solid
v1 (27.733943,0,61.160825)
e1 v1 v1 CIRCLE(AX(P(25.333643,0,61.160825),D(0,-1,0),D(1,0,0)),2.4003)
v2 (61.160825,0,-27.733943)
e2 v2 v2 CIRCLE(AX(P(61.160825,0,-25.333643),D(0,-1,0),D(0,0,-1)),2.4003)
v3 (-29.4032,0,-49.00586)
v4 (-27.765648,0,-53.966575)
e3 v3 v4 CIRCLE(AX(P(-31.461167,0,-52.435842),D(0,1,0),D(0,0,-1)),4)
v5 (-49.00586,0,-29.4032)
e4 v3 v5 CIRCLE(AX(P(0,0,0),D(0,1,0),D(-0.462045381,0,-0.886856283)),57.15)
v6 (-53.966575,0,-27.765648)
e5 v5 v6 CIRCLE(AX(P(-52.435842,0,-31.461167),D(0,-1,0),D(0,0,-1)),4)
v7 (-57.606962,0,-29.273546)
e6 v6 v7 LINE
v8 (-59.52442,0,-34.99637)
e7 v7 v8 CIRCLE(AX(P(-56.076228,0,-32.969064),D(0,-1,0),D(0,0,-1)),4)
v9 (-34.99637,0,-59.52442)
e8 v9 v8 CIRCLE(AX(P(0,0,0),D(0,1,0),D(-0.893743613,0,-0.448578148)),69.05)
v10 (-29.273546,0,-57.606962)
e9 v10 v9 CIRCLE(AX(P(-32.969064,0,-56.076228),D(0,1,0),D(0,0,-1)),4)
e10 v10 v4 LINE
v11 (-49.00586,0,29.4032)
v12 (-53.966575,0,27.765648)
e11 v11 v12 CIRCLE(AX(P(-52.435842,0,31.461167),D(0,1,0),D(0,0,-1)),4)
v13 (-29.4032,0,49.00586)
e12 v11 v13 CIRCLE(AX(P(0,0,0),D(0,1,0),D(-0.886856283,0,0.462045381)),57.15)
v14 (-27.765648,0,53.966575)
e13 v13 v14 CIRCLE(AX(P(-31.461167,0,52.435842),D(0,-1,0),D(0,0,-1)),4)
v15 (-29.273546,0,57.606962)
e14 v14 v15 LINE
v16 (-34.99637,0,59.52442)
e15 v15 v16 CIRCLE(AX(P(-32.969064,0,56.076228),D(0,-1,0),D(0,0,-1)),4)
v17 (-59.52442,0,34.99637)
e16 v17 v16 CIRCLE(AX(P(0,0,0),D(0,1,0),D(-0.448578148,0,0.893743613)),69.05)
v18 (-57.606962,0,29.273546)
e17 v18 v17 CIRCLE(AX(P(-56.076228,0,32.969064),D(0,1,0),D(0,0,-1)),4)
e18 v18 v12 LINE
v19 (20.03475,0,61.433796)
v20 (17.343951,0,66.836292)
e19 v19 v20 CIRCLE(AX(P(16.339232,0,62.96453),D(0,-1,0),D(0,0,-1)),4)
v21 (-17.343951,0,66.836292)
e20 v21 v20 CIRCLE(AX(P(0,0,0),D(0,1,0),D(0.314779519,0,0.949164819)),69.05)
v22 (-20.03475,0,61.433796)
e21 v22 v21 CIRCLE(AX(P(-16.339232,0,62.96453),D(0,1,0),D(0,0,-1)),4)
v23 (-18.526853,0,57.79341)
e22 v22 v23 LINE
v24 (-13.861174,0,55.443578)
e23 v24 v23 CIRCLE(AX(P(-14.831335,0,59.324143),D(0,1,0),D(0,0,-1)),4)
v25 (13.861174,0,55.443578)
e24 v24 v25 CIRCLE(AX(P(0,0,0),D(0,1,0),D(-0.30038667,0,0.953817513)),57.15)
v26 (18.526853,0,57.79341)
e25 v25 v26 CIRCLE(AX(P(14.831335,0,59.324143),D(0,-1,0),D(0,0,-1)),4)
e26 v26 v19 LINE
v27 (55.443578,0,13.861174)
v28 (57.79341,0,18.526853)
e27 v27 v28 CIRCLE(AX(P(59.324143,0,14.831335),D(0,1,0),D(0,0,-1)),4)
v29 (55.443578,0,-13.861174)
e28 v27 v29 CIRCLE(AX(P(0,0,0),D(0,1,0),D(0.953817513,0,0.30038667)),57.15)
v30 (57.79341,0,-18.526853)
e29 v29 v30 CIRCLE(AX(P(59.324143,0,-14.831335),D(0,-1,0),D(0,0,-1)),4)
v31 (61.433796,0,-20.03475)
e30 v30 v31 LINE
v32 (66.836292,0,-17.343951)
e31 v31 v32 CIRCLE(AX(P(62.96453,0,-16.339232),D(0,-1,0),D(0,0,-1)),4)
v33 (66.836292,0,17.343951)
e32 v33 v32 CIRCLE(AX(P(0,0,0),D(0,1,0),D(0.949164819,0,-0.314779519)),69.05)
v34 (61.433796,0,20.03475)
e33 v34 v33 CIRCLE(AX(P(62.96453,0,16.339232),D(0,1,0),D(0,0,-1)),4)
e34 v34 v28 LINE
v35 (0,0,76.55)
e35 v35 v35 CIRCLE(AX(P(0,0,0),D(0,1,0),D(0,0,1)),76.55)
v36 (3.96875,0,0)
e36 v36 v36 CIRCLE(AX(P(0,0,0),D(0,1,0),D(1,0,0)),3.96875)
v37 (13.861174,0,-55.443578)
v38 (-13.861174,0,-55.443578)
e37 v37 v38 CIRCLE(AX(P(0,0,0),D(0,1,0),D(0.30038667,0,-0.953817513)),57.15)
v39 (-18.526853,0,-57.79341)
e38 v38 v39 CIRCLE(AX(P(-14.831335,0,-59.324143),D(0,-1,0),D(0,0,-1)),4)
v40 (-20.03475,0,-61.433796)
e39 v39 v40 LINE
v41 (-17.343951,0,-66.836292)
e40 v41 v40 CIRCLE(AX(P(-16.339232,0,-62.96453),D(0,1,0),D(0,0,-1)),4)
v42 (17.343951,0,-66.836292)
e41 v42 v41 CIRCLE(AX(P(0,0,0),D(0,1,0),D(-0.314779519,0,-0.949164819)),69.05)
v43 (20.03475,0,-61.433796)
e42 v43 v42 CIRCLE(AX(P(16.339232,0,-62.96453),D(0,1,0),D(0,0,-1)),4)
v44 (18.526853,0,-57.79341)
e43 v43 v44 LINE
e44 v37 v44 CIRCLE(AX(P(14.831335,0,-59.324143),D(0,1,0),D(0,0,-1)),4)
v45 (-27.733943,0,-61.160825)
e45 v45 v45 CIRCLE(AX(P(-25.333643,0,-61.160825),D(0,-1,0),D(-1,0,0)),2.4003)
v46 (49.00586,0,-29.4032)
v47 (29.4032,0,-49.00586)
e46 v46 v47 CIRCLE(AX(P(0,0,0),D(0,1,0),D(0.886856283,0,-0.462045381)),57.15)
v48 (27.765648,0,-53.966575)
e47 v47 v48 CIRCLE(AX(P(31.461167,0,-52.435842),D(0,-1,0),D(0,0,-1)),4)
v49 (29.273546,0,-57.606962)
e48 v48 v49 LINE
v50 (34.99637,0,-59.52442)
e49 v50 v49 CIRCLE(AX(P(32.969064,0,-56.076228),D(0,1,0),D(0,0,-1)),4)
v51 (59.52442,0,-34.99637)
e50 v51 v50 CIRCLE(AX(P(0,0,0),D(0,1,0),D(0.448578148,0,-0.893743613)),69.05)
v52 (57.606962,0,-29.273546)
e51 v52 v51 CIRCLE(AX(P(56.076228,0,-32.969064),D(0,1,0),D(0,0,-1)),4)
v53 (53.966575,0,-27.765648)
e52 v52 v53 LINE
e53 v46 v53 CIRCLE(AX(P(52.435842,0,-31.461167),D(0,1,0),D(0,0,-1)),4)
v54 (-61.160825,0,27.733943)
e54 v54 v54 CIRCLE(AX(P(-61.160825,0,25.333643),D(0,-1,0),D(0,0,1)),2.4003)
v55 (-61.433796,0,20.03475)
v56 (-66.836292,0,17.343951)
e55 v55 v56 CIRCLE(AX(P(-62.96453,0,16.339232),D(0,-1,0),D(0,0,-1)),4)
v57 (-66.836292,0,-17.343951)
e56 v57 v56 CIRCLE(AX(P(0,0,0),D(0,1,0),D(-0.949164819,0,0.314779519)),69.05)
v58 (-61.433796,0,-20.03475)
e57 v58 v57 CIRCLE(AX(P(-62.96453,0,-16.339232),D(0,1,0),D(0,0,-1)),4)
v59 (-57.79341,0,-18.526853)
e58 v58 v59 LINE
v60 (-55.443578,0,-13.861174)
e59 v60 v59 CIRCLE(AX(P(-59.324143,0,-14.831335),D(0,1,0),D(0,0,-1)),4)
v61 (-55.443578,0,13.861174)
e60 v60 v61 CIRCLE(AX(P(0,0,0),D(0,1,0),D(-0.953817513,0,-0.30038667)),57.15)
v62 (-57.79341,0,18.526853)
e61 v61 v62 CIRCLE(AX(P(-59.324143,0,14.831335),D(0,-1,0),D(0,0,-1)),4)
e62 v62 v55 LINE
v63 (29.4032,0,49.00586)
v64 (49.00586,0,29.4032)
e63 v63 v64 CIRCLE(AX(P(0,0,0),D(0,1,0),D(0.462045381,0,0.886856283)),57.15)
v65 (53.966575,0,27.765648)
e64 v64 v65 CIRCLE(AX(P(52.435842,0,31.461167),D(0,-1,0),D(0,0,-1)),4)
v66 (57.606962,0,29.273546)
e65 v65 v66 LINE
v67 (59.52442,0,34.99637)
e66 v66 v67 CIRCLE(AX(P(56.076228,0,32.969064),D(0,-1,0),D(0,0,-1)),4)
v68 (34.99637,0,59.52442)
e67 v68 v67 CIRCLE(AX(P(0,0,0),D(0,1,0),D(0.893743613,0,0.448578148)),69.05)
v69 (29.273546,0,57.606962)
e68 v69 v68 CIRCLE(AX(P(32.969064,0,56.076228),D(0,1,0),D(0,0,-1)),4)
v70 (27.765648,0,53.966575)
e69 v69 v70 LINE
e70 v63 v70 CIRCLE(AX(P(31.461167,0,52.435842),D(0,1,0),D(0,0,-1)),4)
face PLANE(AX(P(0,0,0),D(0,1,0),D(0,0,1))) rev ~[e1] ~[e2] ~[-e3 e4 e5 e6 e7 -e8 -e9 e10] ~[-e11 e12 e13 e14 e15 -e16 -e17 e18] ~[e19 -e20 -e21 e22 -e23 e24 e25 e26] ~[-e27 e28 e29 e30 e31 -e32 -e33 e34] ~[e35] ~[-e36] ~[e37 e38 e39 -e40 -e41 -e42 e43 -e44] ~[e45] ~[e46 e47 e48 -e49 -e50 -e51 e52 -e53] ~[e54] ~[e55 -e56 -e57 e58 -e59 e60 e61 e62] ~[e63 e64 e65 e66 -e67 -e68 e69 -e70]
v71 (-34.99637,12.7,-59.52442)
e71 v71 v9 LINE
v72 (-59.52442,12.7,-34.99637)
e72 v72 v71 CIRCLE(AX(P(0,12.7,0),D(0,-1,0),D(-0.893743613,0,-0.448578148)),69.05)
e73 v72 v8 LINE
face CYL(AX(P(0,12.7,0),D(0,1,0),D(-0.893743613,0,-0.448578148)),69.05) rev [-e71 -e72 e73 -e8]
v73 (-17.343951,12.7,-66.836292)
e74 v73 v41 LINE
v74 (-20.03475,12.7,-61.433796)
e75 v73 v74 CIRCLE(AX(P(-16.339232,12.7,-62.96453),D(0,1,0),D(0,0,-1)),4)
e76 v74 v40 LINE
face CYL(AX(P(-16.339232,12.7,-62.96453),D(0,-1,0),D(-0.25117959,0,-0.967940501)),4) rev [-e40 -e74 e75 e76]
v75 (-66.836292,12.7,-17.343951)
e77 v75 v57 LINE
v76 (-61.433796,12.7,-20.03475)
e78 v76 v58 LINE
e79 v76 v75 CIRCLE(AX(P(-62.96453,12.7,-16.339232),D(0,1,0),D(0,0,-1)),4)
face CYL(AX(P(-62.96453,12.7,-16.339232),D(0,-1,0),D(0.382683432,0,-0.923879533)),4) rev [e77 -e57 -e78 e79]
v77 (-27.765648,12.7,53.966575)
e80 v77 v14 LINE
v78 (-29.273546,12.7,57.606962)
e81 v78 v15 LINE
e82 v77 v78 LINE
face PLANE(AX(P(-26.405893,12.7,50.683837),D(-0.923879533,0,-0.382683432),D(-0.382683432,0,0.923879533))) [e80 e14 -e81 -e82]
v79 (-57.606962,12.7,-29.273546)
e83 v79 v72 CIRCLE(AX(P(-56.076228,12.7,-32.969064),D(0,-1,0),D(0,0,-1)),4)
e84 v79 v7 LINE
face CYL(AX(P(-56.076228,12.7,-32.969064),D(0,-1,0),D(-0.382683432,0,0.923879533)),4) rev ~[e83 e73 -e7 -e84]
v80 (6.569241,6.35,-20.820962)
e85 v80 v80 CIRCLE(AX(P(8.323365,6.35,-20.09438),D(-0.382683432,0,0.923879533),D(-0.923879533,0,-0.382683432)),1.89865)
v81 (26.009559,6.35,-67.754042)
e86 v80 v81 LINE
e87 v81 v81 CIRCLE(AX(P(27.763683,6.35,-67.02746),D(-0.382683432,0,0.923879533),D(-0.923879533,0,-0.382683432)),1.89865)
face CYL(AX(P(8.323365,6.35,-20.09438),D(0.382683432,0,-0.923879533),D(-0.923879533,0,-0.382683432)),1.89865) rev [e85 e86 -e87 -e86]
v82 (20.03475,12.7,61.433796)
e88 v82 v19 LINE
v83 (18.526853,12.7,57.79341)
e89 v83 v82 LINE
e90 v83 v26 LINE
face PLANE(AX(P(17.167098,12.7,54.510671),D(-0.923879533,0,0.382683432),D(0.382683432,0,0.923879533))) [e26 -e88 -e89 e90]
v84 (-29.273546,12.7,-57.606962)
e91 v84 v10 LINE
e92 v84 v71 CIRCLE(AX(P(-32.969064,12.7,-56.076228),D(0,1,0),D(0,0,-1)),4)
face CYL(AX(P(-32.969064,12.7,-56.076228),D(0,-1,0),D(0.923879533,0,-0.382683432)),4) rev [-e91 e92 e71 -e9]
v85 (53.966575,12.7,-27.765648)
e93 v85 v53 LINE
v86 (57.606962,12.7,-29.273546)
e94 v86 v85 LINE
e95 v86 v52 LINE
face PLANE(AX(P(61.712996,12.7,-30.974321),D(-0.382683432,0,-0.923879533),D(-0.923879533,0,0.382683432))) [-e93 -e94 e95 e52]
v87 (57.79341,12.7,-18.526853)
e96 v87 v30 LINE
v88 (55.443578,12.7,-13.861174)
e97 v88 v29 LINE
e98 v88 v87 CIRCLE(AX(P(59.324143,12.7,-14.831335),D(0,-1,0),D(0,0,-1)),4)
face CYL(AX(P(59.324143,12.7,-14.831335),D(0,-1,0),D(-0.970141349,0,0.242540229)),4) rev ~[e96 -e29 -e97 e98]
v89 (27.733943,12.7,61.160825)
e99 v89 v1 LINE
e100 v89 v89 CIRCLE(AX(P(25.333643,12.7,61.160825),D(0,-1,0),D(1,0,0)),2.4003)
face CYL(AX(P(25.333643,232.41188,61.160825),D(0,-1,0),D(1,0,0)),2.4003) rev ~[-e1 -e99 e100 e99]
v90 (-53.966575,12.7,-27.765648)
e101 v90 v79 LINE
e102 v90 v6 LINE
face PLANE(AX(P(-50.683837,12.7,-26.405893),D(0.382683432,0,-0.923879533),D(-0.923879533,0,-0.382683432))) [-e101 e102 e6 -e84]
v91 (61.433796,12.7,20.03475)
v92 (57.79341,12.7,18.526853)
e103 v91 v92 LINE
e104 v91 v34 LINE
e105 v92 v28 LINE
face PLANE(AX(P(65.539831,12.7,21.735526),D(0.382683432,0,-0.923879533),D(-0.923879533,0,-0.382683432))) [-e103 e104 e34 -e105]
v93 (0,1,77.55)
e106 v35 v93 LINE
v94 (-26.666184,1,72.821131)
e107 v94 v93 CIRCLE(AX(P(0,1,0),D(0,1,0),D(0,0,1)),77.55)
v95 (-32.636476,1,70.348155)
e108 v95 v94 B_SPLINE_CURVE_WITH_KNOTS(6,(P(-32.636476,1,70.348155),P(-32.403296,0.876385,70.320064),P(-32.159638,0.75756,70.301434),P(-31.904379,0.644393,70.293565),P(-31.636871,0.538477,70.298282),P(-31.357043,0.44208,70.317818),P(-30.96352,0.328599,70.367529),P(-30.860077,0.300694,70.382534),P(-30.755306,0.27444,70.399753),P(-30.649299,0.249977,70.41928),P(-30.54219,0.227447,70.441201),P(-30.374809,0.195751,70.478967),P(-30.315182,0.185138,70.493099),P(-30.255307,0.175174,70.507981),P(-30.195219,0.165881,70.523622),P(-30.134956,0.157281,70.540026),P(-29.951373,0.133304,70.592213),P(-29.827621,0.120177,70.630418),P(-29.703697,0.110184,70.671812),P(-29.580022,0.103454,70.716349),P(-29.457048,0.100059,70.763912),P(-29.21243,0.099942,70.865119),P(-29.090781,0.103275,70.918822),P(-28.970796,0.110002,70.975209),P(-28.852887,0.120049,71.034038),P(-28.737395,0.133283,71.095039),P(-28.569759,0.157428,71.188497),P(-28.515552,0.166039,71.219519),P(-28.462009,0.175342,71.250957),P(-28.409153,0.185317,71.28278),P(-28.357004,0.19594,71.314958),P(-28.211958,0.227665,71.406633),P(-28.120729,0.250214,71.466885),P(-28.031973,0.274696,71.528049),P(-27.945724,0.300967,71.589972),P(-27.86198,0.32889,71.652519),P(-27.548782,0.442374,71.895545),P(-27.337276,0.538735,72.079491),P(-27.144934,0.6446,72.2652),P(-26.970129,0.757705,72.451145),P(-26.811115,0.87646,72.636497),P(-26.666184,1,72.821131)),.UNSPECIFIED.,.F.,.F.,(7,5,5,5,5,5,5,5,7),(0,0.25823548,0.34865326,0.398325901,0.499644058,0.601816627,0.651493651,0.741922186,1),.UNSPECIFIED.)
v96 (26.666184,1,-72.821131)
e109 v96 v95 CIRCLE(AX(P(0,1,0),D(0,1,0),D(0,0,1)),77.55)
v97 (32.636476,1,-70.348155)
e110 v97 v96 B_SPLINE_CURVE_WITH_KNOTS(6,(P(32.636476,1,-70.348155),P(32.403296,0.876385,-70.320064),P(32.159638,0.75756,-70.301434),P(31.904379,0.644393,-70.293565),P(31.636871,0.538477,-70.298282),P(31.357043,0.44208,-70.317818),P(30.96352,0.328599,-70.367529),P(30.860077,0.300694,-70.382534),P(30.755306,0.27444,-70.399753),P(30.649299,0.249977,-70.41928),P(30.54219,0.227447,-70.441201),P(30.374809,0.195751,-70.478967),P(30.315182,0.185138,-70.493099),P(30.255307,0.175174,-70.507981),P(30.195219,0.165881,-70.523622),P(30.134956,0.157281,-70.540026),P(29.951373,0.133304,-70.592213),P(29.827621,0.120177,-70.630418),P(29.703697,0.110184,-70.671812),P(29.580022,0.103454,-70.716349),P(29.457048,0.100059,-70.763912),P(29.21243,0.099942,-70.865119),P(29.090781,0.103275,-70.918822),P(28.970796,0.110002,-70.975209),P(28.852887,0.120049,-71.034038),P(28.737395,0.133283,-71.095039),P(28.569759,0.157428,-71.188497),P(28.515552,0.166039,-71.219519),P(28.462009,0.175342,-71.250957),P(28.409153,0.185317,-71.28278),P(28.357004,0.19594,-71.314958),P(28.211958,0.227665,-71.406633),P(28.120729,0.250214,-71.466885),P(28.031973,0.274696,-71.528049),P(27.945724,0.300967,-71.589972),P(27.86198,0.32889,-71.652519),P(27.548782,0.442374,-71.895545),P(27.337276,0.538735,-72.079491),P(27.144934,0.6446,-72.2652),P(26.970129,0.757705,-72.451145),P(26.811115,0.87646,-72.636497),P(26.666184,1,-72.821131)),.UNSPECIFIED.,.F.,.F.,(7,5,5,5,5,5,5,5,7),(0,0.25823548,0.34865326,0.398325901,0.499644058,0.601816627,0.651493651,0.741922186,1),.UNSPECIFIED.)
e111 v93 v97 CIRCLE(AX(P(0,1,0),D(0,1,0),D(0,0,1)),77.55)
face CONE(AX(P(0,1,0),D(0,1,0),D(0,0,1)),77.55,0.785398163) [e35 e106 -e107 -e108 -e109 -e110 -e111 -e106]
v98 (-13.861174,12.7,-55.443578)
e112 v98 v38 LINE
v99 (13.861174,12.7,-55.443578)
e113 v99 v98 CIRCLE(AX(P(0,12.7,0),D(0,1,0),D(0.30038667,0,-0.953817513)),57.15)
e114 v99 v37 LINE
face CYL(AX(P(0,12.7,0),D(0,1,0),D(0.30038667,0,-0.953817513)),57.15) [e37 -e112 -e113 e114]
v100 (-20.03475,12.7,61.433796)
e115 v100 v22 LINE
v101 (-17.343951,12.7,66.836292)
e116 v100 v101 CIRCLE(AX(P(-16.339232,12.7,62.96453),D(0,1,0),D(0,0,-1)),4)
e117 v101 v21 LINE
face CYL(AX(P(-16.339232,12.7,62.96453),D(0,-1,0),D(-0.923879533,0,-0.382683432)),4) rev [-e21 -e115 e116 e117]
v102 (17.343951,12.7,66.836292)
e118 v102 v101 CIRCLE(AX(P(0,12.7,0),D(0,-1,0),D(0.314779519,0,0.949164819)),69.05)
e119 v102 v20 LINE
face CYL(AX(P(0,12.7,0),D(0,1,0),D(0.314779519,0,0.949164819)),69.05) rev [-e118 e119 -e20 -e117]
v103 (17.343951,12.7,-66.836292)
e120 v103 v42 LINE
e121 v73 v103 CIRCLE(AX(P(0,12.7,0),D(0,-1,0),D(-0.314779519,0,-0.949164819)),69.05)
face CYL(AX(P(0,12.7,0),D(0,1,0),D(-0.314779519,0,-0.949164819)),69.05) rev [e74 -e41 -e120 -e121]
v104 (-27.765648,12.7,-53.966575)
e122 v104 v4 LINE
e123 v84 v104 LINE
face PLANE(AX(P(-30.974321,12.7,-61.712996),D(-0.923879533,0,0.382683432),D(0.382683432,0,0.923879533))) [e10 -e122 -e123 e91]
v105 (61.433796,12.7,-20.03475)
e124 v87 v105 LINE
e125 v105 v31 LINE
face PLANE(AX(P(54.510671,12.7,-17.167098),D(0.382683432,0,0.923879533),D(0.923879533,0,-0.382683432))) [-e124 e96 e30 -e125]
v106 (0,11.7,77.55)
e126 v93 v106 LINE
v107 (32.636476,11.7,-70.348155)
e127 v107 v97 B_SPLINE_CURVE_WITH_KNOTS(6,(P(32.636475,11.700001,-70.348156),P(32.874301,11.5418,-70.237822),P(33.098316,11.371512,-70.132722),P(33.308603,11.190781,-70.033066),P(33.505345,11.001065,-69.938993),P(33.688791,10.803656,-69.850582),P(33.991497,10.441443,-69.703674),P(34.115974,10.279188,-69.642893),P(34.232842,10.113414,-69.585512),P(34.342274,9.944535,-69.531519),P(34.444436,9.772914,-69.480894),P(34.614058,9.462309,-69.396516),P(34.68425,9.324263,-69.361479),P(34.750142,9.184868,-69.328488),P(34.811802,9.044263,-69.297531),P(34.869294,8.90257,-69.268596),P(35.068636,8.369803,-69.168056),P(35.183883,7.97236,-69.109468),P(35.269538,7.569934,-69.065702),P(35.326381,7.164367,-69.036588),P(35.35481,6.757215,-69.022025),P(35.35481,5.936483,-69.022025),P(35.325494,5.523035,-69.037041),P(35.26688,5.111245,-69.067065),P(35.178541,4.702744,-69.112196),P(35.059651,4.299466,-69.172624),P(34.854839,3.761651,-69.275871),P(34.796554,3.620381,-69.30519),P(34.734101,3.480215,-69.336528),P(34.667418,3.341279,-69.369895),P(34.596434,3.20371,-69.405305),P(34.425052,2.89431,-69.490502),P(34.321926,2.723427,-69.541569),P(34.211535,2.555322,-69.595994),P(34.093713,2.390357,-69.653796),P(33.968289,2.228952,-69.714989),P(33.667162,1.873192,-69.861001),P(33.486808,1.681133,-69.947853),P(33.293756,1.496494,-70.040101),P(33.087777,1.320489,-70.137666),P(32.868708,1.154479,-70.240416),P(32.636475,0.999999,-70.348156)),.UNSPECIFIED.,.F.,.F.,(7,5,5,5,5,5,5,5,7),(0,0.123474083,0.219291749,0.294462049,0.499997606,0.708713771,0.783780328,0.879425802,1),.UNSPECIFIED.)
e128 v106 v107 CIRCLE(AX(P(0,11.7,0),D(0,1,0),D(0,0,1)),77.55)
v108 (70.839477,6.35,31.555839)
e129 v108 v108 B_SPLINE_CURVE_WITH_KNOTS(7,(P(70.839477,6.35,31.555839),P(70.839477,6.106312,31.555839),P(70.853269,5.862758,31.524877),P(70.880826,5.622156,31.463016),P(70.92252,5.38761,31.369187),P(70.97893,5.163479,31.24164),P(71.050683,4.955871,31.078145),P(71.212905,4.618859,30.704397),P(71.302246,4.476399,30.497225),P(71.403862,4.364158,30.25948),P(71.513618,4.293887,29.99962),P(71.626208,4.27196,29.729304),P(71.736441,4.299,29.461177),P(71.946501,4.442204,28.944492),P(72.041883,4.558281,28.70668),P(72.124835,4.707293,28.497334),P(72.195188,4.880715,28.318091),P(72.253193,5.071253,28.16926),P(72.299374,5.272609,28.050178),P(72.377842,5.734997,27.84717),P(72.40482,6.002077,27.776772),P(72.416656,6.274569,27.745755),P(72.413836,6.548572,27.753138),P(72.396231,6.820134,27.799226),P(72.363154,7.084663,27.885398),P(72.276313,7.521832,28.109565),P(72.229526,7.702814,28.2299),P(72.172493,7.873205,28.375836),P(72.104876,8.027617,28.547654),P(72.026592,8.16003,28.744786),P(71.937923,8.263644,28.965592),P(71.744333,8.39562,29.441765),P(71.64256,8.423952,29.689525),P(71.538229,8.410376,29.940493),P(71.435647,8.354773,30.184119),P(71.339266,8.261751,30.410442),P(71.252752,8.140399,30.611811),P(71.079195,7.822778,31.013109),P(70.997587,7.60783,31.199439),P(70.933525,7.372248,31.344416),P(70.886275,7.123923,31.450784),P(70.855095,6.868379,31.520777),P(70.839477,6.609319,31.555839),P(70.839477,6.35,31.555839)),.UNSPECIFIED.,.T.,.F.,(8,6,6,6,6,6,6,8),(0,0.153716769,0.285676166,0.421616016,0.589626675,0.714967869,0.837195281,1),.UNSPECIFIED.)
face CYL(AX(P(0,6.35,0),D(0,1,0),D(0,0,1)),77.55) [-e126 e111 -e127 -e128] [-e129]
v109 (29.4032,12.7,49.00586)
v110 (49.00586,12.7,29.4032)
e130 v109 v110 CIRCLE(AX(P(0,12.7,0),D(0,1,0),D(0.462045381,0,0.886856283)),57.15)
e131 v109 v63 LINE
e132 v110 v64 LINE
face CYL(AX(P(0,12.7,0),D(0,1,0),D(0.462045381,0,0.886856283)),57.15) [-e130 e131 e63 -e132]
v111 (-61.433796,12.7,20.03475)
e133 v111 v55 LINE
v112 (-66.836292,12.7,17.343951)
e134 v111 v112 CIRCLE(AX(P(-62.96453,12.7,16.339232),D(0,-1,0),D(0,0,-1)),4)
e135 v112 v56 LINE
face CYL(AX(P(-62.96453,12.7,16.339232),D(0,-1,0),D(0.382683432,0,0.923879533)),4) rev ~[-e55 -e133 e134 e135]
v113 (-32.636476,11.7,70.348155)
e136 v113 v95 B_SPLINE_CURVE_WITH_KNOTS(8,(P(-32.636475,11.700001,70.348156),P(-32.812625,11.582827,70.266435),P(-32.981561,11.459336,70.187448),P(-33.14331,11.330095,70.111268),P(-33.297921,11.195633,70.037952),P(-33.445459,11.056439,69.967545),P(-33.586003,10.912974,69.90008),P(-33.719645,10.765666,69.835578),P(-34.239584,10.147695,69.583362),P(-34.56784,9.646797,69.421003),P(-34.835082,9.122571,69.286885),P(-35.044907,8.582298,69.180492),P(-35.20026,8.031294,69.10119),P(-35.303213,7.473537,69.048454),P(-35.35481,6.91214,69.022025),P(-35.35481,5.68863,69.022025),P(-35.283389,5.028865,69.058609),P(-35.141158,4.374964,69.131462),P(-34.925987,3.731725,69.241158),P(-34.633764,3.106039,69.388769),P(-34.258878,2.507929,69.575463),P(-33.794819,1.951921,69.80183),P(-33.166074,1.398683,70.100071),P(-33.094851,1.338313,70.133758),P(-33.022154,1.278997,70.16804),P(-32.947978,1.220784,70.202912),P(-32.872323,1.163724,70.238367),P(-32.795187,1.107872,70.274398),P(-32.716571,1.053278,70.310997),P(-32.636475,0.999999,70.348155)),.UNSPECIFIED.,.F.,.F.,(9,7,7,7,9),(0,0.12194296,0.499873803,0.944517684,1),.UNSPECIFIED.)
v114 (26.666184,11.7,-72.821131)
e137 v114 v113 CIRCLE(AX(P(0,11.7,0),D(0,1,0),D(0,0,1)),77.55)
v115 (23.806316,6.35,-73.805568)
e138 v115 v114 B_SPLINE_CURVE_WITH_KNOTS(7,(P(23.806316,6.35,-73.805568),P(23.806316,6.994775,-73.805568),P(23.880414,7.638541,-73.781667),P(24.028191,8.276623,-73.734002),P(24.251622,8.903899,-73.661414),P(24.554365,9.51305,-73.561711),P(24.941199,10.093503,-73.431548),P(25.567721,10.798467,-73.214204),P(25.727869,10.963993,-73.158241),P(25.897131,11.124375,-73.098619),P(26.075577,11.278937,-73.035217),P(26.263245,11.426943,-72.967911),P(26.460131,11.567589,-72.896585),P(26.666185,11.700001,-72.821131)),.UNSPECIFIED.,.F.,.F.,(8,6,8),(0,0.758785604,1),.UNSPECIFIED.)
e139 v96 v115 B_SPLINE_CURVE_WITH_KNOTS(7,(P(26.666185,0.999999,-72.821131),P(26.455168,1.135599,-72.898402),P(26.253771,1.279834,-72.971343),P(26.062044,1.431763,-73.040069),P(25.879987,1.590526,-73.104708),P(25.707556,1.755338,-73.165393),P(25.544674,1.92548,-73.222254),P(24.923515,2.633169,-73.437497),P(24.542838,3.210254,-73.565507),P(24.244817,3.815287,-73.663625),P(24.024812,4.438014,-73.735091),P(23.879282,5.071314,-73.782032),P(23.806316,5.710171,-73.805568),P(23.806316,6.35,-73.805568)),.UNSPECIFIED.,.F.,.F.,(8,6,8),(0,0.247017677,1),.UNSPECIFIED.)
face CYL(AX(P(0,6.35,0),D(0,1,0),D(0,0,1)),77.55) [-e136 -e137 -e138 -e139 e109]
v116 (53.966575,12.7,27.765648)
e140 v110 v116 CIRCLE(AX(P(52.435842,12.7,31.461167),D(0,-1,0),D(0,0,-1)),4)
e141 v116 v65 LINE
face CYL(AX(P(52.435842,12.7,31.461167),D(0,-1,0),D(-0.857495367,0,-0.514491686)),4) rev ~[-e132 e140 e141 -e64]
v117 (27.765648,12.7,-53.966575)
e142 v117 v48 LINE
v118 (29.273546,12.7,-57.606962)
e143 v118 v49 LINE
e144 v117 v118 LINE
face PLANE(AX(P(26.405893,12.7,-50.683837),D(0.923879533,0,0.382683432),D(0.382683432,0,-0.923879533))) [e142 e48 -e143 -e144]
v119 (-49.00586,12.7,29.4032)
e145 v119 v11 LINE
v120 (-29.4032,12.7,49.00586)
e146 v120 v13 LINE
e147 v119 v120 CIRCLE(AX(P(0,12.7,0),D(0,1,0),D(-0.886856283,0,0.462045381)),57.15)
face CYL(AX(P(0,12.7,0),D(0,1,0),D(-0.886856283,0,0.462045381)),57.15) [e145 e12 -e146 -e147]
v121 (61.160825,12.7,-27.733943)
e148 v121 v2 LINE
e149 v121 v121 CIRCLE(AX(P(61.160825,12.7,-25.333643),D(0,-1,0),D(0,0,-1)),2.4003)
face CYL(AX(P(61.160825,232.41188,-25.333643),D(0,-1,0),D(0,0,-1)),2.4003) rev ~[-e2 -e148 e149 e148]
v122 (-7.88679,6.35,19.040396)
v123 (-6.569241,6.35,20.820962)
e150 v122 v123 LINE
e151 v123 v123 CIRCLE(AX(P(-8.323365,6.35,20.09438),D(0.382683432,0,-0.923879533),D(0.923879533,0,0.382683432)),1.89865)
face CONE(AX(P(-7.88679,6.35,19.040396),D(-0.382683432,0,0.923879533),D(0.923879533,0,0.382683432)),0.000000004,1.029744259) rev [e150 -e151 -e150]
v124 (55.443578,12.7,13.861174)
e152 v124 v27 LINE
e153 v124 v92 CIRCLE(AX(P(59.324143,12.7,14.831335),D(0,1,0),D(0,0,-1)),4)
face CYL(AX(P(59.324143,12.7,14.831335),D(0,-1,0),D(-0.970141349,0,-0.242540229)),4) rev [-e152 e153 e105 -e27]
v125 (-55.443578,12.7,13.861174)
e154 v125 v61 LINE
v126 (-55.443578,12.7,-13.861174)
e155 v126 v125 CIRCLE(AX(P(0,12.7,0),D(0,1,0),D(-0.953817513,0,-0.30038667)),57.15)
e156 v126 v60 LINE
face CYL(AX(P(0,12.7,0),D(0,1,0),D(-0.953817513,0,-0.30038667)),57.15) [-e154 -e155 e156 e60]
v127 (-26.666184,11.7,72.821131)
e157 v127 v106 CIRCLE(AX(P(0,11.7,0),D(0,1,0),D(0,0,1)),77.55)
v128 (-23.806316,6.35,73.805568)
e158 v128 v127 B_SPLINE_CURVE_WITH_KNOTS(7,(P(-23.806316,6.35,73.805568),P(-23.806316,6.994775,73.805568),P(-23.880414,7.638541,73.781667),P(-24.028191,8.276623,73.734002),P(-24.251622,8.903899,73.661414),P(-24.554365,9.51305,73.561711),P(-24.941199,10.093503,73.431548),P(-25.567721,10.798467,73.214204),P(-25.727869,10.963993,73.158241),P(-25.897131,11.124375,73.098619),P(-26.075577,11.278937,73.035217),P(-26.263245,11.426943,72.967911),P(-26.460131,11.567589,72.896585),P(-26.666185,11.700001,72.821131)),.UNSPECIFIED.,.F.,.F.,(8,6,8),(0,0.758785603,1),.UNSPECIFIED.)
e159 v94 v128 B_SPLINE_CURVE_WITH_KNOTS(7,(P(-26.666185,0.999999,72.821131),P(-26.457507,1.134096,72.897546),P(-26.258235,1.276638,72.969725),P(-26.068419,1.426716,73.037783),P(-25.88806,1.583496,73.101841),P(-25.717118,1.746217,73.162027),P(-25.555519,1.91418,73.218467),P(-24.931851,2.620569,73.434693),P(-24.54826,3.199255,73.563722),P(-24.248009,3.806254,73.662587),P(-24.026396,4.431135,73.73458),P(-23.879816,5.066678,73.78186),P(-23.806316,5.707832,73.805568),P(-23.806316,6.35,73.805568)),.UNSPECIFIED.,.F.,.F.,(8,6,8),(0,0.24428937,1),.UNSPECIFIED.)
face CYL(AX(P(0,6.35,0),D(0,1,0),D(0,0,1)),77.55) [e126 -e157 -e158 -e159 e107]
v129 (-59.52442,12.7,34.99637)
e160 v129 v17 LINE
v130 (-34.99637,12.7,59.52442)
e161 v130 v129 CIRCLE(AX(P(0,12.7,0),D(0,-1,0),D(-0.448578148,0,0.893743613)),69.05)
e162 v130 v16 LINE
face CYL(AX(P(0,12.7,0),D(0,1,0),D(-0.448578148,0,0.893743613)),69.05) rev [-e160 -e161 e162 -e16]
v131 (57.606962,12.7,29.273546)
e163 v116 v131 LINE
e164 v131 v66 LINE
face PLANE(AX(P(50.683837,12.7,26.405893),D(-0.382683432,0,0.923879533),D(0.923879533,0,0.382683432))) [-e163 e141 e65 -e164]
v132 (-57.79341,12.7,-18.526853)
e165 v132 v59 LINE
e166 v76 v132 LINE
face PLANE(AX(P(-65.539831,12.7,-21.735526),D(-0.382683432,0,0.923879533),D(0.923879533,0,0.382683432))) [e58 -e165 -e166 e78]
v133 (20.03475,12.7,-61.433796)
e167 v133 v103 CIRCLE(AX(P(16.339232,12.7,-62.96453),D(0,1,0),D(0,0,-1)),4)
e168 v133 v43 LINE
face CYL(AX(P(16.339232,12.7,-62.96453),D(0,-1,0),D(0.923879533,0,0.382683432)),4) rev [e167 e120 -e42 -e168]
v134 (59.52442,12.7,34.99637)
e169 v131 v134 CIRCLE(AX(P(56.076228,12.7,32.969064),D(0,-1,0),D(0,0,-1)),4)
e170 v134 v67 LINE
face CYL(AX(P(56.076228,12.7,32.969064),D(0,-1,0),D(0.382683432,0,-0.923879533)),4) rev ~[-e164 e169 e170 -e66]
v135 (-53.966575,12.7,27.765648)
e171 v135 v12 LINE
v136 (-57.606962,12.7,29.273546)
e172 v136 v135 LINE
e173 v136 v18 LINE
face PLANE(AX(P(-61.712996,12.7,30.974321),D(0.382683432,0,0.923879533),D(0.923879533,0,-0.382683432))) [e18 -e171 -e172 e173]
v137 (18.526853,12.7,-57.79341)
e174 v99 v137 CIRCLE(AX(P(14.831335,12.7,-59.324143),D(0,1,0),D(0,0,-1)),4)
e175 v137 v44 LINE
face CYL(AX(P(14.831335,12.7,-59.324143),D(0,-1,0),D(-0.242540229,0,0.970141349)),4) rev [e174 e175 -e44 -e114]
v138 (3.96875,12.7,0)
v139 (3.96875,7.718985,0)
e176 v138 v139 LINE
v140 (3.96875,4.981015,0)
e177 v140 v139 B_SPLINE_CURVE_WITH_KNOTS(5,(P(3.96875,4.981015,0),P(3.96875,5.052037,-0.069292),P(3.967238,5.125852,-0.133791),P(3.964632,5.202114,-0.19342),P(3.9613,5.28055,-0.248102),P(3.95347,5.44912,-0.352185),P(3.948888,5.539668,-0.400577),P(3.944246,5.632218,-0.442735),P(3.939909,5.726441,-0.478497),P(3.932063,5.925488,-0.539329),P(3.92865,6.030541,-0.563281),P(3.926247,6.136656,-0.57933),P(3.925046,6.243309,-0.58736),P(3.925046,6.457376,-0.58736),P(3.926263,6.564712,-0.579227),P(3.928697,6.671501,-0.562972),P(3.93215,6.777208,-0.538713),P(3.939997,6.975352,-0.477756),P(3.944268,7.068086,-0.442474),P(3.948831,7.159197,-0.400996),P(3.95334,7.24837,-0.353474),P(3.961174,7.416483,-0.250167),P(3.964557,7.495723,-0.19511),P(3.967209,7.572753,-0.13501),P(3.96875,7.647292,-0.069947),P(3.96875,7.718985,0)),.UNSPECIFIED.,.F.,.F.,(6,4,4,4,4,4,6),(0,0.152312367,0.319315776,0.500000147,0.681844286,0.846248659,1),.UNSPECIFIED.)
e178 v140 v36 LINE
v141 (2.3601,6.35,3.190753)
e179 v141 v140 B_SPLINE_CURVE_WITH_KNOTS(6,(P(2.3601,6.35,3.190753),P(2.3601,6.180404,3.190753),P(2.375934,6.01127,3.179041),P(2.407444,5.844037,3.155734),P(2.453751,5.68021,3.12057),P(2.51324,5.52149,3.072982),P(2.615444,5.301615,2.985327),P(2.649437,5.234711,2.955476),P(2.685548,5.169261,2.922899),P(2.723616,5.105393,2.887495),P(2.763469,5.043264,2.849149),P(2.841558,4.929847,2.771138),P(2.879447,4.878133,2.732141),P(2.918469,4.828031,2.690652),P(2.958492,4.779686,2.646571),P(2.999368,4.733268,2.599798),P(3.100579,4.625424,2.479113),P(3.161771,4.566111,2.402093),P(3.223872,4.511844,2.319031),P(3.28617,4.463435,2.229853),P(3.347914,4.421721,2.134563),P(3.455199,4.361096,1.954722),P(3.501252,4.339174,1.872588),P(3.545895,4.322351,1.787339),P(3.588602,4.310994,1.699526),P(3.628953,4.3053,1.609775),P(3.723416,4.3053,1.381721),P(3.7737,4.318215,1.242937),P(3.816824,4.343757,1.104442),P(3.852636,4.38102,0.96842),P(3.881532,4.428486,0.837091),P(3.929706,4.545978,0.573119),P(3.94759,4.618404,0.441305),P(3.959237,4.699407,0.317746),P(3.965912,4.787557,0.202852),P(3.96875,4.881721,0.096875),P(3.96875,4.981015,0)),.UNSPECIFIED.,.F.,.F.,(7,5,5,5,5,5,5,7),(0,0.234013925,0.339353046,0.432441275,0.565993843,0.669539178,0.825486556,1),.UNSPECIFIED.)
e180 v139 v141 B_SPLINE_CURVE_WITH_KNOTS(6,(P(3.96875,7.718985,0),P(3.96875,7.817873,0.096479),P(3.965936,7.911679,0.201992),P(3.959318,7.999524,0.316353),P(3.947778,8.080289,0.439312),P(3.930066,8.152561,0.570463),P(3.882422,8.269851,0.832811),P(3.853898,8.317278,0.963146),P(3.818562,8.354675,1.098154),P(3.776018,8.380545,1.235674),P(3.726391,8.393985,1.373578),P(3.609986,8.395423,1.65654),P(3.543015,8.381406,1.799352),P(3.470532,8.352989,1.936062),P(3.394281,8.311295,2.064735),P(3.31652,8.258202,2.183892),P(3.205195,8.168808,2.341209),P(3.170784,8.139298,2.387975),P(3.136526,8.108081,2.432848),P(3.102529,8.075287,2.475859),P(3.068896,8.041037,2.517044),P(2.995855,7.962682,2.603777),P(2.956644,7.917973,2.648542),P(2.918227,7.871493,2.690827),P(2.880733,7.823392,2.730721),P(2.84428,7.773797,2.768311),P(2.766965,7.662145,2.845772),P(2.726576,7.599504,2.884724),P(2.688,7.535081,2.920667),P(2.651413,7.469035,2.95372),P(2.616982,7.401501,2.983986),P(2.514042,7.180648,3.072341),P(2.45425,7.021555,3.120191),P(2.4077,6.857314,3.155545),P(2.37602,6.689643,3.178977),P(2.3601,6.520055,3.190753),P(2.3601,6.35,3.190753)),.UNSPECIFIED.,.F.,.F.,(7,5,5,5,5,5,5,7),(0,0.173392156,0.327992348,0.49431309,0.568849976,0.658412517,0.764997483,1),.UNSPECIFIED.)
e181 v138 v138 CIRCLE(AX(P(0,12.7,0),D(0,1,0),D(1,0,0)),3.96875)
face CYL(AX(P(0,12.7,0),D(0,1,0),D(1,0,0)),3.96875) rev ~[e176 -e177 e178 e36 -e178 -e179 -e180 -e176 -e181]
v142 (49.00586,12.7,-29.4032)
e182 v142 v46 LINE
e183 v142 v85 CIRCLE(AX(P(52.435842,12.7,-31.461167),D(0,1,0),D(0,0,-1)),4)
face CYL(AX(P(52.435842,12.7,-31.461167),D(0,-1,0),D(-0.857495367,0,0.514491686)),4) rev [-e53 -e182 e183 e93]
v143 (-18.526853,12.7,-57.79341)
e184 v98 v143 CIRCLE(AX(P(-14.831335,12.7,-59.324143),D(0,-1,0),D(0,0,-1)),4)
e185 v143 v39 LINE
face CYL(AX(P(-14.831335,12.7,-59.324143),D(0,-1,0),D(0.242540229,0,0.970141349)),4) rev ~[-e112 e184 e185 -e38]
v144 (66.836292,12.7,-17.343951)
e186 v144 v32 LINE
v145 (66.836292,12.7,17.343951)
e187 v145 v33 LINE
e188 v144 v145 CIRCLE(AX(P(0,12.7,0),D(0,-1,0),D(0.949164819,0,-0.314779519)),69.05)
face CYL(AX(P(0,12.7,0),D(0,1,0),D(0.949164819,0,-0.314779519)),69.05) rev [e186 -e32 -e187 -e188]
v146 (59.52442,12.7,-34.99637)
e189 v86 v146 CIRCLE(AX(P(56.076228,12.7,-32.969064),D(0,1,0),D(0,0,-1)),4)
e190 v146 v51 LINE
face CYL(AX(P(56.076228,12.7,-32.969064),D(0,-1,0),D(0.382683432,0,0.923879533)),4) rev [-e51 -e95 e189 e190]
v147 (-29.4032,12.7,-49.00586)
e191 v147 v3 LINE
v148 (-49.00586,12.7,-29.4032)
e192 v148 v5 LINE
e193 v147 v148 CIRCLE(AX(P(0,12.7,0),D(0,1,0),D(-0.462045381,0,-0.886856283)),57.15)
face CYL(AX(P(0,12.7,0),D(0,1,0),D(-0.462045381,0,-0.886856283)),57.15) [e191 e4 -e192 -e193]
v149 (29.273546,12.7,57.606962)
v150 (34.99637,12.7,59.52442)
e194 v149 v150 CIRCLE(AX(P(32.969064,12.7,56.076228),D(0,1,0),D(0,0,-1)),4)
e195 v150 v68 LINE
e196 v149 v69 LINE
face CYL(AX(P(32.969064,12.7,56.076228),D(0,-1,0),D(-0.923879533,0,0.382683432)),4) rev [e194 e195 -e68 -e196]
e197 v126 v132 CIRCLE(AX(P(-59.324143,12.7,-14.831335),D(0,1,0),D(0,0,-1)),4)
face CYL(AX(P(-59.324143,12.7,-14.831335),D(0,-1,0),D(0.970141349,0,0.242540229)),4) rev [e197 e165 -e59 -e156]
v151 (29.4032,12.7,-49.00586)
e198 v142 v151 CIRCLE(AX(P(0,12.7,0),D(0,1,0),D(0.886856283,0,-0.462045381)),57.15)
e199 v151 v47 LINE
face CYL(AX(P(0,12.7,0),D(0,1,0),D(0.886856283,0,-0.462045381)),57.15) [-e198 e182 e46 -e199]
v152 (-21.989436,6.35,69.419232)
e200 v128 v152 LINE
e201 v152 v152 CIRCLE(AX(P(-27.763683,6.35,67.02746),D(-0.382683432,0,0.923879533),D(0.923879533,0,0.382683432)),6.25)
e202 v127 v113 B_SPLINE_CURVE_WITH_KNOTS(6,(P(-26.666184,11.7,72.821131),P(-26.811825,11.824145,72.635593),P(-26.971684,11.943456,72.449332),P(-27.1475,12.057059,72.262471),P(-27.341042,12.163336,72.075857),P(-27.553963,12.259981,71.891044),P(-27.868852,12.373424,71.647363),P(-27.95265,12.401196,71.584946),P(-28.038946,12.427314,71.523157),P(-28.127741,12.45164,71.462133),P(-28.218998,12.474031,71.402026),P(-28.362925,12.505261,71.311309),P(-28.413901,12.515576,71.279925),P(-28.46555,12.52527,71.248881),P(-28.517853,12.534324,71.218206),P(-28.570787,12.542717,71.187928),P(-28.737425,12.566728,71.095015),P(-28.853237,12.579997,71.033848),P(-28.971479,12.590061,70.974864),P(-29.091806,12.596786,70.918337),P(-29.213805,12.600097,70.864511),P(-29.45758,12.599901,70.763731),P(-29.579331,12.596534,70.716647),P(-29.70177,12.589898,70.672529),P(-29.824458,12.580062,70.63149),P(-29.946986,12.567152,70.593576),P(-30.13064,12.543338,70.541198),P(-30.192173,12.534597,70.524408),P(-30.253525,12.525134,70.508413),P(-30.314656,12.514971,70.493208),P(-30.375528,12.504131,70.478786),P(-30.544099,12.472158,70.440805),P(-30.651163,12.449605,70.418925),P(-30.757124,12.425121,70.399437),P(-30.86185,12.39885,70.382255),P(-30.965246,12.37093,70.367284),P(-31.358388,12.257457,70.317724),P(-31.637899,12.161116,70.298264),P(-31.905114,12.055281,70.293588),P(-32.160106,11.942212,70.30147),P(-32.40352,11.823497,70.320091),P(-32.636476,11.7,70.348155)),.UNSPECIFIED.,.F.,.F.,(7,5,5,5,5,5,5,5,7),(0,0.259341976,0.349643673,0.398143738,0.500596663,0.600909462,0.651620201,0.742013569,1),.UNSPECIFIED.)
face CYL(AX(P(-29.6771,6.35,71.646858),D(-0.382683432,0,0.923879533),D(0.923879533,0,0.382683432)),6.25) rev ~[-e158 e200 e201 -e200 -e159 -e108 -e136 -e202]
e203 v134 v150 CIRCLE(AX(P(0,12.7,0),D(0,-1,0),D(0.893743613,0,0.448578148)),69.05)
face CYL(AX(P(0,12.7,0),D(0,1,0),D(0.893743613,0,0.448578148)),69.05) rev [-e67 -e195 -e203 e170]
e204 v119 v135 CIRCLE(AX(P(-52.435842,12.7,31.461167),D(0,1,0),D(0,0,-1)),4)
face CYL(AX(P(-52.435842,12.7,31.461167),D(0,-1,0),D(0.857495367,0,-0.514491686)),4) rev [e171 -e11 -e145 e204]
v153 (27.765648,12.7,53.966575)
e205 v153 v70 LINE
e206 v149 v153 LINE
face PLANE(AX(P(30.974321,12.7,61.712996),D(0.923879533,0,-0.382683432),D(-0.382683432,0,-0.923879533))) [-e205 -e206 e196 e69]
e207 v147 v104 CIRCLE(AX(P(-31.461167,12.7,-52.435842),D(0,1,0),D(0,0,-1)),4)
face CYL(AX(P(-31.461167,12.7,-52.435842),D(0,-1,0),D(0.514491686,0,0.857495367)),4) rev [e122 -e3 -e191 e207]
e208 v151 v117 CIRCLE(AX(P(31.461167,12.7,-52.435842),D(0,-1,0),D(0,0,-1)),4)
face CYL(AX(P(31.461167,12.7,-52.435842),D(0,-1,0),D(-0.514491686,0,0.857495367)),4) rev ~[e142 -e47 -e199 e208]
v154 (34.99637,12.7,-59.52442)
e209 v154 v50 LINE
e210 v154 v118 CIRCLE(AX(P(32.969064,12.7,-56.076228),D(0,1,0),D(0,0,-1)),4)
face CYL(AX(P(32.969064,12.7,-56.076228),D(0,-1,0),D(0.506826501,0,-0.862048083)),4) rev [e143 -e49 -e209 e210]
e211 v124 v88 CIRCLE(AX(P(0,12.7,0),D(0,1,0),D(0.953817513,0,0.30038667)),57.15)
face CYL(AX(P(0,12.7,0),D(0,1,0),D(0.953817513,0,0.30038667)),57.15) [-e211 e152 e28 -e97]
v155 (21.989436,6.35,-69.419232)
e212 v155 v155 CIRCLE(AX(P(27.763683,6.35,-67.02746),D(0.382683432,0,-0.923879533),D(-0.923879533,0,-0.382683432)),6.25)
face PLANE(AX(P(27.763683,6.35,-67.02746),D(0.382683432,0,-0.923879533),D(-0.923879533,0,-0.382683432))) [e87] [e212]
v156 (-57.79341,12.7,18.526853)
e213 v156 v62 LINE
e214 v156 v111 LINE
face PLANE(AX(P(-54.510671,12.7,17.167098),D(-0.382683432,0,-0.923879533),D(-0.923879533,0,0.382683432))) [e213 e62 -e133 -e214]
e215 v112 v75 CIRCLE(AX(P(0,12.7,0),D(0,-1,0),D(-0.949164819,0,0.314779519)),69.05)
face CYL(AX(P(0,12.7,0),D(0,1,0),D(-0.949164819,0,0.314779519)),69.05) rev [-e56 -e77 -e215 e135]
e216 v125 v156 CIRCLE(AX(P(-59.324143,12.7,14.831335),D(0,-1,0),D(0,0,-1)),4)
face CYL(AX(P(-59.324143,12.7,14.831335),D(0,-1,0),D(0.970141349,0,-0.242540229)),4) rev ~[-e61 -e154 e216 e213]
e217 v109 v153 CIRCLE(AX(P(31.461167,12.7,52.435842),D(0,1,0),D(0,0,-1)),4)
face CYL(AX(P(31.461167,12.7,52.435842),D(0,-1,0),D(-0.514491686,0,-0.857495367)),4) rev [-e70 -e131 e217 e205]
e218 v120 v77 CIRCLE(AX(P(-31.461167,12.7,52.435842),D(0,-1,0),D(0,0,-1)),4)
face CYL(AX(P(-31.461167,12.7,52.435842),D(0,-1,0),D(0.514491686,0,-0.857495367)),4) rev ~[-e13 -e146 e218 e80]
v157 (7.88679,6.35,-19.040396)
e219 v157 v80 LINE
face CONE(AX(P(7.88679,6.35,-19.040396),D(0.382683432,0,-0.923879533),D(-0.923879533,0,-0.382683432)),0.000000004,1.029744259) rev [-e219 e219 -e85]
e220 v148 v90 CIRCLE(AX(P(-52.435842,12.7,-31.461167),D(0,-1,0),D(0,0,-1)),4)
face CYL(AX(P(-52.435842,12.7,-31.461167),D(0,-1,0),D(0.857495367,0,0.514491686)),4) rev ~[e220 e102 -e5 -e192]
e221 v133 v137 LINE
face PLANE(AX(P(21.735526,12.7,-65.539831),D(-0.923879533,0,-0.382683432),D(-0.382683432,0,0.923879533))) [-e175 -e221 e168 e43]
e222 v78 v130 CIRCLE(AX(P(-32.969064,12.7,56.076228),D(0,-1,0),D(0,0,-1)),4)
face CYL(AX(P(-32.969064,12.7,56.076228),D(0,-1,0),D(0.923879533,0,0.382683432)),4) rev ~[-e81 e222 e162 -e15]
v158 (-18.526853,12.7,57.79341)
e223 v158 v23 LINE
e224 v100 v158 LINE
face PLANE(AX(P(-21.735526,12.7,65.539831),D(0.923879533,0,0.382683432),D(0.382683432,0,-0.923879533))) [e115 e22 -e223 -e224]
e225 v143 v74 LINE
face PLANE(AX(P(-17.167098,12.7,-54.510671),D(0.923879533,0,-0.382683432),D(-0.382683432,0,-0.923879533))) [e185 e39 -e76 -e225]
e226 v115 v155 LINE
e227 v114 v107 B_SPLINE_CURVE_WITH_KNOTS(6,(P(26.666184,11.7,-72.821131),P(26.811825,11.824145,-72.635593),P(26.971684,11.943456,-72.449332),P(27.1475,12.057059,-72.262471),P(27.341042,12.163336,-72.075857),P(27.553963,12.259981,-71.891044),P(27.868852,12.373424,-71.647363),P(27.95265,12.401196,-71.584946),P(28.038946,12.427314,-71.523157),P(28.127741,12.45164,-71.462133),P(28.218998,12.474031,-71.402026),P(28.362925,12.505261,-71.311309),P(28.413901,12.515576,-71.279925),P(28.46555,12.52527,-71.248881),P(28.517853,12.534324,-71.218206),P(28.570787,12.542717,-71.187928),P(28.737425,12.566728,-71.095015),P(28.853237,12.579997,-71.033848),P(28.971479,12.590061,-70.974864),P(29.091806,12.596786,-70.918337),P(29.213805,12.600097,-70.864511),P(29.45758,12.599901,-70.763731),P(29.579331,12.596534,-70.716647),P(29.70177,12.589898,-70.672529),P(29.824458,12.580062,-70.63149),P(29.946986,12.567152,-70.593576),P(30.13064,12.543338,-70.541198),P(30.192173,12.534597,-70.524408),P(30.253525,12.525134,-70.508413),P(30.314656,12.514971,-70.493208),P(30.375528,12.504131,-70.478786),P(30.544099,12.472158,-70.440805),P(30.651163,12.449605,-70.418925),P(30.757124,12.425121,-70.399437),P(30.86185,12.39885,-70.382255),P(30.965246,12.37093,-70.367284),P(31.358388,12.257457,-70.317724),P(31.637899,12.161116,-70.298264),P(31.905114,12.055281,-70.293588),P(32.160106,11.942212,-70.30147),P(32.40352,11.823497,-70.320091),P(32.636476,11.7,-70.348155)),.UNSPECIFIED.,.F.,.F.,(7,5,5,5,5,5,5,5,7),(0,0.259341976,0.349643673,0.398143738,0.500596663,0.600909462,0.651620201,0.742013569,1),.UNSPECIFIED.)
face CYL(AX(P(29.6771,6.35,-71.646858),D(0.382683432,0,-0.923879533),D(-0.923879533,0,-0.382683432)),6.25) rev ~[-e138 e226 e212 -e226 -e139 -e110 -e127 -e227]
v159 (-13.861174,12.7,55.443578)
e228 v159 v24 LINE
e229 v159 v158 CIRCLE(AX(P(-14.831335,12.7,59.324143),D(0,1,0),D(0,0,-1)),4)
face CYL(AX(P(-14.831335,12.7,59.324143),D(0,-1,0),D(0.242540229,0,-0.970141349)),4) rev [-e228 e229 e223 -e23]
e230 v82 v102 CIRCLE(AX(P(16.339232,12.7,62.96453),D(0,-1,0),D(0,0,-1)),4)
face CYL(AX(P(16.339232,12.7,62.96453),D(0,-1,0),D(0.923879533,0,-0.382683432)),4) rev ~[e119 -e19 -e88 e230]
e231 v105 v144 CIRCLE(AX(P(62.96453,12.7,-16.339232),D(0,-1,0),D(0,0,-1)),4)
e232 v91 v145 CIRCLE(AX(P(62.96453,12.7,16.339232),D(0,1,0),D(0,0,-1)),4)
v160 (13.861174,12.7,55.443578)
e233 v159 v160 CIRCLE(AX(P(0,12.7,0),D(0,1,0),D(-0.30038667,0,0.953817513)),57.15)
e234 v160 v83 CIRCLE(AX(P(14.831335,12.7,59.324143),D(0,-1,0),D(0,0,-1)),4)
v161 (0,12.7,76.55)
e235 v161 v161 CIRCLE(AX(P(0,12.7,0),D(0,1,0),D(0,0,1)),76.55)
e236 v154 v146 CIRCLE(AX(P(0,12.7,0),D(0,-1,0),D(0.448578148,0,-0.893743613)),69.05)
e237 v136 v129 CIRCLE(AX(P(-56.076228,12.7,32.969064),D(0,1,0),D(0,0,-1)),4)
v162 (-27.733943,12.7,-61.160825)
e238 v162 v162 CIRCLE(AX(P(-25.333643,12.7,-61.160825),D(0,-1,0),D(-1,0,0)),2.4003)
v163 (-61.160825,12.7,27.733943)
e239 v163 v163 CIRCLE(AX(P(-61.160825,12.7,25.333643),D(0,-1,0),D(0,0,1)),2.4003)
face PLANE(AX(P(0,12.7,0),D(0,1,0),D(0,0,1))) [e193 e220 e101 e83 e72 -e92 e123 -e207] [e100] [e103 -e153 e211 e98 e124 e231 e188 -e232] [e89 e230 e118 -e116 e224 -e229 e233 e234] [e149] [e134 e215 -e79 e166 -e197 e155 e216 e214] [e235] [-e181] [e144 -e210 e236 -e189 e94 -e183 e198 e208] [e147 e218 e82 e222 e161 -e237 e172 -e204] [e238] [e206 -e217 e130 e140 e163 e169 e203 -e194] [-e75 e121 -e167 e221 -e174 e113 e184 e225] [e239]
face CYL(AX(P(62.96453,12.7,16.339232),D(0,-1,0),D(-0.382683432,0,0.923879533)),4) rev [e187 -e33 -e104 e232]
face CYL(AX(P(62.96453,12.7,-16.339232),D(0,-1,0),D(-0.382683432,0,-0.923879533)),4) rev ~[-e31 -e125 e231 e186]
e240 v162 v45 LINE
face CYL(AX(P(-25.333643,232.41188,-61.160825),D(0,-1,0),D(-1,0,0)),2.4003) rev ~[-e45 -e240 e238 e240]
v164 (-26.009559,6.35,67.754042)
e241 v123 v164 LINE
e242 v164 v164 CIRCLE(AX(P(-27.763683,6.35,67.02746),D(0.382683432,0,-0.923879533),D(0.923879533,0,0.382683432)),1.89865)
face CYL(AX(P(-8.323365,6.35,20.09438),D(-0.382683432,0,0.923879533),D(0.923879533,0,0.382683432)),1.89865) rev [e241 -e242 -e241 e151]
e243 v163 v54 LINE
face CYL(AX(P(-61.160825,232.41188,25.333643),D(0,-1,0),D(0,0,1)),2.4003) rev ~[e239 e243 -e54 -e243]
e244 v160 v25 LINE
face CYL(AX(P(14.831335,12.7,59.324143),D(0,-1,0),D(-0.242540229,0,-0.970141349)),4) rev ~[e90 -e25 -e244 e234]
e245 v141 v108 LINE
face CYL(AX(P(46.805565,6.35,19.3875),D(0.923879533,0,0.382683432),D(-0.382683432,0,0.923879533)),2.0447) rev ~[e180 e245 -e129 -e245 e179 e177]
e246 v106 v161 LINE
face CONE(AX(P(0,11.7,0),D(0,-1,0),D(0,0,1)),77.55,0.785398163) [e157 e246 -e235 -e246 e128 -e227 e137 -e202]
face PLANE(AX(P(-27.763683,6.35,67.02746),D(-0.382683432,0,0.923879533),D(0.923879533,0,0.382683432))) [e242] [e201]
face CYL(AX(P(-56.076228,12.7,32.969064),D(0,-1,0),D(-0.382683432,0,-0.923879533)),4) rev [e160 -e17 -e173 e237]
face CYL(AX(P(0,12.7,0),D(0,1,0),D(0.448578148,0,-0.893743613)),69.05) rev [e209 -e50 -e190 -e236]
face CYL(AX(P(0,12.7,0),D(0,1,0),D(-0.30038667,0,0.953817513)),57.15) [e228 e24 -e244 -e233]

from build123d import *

# Parameters (mm, degrees)
SKETCH2_W                   = 77.55
SKETCH2_H                   = 12.7
F_12_0_189_DIAMETER_HOLE1_D = 4.8006
CIRPATTERN3_COUNT           = 4
CUT_EXTRUDE1_DEPTH          = 13.7
FILLET1_R                   = 4
CIRPATTERN4_COUNT           = 8
FILLET1_OF_CIRPATTERN4_R    = 4
CHAMFER1_SIZE               = 1
SKETCH15_W                  = 2.0447
SKETCH15_H                  = 101.323957926
SKETCH19_R                  = 6.25
CUT_EXTRUDE3_DEPTH          = 5
CIRPATTERN5_COUNT           = 2
CIRPATTERN6_COUNT           = 2
SKETCH22_R                  = 3.96875
CUT_EXTRUDE4_DEPTH          = 12.8


with BuildPart() as part:
    # Sketch2 → Revolve1 (revolve)
    with BuildSketch(Plane(origin=(0, 0, 0), x_dir=(0, 0, -1), z_dir=(1, 0, 0))):
        with Locations((-38.775, 6.35)):
            Rectangle(SKETCH2_W, SKETCH2_H)
    revolve(axis=Axis((0, -0.888756804, 0), (0, 1, 0)))

    # #12 (0.189) Diameter Hole1 (through all)
    with Locations(Plane(origin=(0, 12.7, 0), x_dir=(1, 0, 0), z_dir=(0, 1, 0))):
        with Locations((-25.333643223, 61.160825052)):
            f_12_0_189_diameter_hole1 = Hole(F_12_0_189_DIAMETER_HOLE1_D / 2)

    # CirPattern3: #12 (0.189) Diameter Hole1 ×4 about axis
    cirpattern3_axis = Axis((0, 0, 0), (0, 1, 0))
    for i in range(1, CIRPATTERN3_COUNT):
        add(f_12_0_189_diameter_hole1.rotate(cirpattern3_axis, i * 360 / CIRPATTERN3_COUNT), mode=Mode.SUBTRACT)

    # Sketch8 → Cut-Extrude1 (cut, through all)
    with BuildSketch(Plane(origin=(0, 12.7, 0), x_dir=(1, 0, 0), z_dir=(0, 1, 0))):
        with BuildLine():
            Line((-17.167098173, 54.510670885), (-21.735525784, 65.539830782))
            ThreePointArc((-21.735525784, 65.539830782), (0, 69.05), (21.735525784, 65.539830782))
            Line((21.735525784, 65.539830782), (17.167098173, 54.510670885))
            ThreePointArc((17.167098173, 54.510670885), (0, 57.15), (-17.167098173, 54.510670885))
        make_face()
    cut_extrude1 = extrude(amount=-CUT_EXTRUDE1_DEPTH, mode=Mode.SUBTRACT)

    # Fillet1
    fillet1_edges = [part.edges().sort_by_distance(p)[0] for p in [
        (17.167098173, 6.35, -54.510670885),
        (-17.167098173, 6.35, -54.510670885),
        (-21.735525784, 6.35, -65.539830782),
        (21.735525784, 6.35, -65.539830782),
    ]]
    fillet(fillet1_edges, radius=FILLET1_R)

    # CirPattern4: Cut-Extrude1 ×8 about axis
    cirpattern4_axis = Axis((0, 0, 0), (0, 1, 0))
    for i in range(1, CIRPATTERN4_COUNT):
        add(cut_extrude1.rotate(cirpattern4_axis, i * 360 / CIRPATTERN4_COUNT), mode=Mode.SUBTRACT)

    # Fillet1 of CirPattern4
    fillet1_of_cirpattern4_edges = [part.edges().sort_by_distance(p)[0] for p in [
        (-26.405893498, 6.35, -50.683836561),
        (-50.683836561, 6.35, -26.405893498),
        (-61.712996458, 6.35, -30.974321109),
        (-30.974321109, 6.35, -61.712996458),
        (-54.510670885, 6.35, -17.167098173),
        (-54.510670885, 6.35, 17.167098173),
        (-65.539830782, 6.35, 21.735525784),
        (-65.539830782, 6.35, -21.735525784),
        (-50.683836561, 6.35, 26.405893498),
        (-26.405893498, 6.35, 50.683836561),
        (-30.974321109, 6.35, 61.712996458),
        (-61.712996458, 6.35, 30.974321109),
        (-17.167098173, 6.35, 54.510670885),
        (17.167098173, 6.35, 54.510670885),
        (21.735525784, 6.35, 65.539830782),
        (-21.735525784, 6.35, 65.539830782),
        (26.405893498, 6.35, 50.683836561),
        (50.683836561, 6.35, 26.405893498),
        (61.712996458, 6.35, 30.974321109),
        (30.974321109, 6.35, 61.712996458),
        (54.510670885, 6.35, 17.167098173),
        (54.510670885, 6.35, -17.167098173),
        (65.539830782, 6.35, -21.735525784),
        (65.539830782, 6.35, 21.735525784),
        (50.683836561, 6.35, -26.405893498),
        (26.405893498, 6.35, -50.683836561),
        (30.974321109, 6.35, -61.712996458),
        (61.712996458, 6.35, -30.974321109),
    ]]
    fillet(fillet1_of_cirpattern4_edges, radius=FILLET1_OF_CIRPATTERN4_R)

    # Chamfer1
    chamfer1_edges = [part.edges().sort_by_distance(p)[0] for p in [
        (0, 12.7, -77.55),
        (0, 0, -77.55),
    ]]
    chamfer(chamfer1_edges, length=CHAMFER1_SIZE)

    # Sketch15 → #20 (0.161) Diameter Hole1 (revolve, cut)
    with BuildSketch(Plane(origin=(0, 6.35, 0), x_dir=(-0.382683432, 0, 0.923879533), z_dir=(0, 1, 0))):
        with Locations((1.02235, 50.661978963)):
            Rectangle(SKETCH15_W, SKETCH15_H)
    revolve(axis=Axis((-5.866635031, 6.35, -2.430039796), (0.923879533, 0, 0.382683432)), mode=Mode.SUBTRACT)

    # Sketch19 → Cut-Extrude3 (cut)
    with BuildSketch(Plane(origin=(29.67710018, 0, -71.646857746), x_dir=(-0.923879533, 0, -0.382683432), z_dir=(0.382683432, 0, -0.923879533))):
        with Locations((0, 6.35)):
            Circle(SKETCH19_R)
    cut_extrude3 = extrude(amount=-CUT_EXTRUDE3_DEPTH, mode=Mode.SUBTRACT)

    # CirPattern5: Cut-Extrude3 ×2 about axis
    cirpattern5_axis = Axis((0, -0.888756804, 0), (0, 1, 0))
    for i in range(1, CIRPATTERN5_COUNT):
        add(cut_extrude3.rotate(cirpattern5_axis, i * 360 / CIRPATTERN5_COUNT), mode=Mode.SUBTRACT)

    # Sketch21 → #10-24 Tapped Hole1 (revolve, cut)
    with BuildSketch(Plane(origin=(-27.763683018, 6.35, 67.027460084), x_dir=(0.923879533, 0, 0.382683432), z_dir=(0, 1, 0))):
        Polygon((0, 0), (0, 51.940824014), (1.89865, 50.8), (1.89865, 0), align=None)
    f_10_24_tapped_hole1 = revolve(axis=Axis((-30.193722814, 6.35, 72.894095115), (0.382683432, 0, -0.923879533)), mode=Mode.SUBTRACT)

    # CirPattern6: #10-24 Tapped Hole1 ×2 about axis
    cirpattern6_axis = Axis((0, -0.888756804, 0), (0, 1, 0))
    for i in range(1, CIRPATTERN6_COUNT):
        add(f_10_24_tapped_hole1.rotate(cirpattern6_axis, i * 360 / CIRPATTERN6_COUNT), mode=Mode.SUBTRACT)

    # Sketch22 → Cut-Extrude4 (cut)
    with BuildSketch(Plane(origin=(0, 12.7, 0), x_dir=(1, 0, 0), z_dir=(0, 1, 0))):
        Circle(SKETCH22_R)
    extrude(amount=-CUT_EXTRUDE4_DEPTH, mode=Mode.SUBTRACT)


solid = part.part
